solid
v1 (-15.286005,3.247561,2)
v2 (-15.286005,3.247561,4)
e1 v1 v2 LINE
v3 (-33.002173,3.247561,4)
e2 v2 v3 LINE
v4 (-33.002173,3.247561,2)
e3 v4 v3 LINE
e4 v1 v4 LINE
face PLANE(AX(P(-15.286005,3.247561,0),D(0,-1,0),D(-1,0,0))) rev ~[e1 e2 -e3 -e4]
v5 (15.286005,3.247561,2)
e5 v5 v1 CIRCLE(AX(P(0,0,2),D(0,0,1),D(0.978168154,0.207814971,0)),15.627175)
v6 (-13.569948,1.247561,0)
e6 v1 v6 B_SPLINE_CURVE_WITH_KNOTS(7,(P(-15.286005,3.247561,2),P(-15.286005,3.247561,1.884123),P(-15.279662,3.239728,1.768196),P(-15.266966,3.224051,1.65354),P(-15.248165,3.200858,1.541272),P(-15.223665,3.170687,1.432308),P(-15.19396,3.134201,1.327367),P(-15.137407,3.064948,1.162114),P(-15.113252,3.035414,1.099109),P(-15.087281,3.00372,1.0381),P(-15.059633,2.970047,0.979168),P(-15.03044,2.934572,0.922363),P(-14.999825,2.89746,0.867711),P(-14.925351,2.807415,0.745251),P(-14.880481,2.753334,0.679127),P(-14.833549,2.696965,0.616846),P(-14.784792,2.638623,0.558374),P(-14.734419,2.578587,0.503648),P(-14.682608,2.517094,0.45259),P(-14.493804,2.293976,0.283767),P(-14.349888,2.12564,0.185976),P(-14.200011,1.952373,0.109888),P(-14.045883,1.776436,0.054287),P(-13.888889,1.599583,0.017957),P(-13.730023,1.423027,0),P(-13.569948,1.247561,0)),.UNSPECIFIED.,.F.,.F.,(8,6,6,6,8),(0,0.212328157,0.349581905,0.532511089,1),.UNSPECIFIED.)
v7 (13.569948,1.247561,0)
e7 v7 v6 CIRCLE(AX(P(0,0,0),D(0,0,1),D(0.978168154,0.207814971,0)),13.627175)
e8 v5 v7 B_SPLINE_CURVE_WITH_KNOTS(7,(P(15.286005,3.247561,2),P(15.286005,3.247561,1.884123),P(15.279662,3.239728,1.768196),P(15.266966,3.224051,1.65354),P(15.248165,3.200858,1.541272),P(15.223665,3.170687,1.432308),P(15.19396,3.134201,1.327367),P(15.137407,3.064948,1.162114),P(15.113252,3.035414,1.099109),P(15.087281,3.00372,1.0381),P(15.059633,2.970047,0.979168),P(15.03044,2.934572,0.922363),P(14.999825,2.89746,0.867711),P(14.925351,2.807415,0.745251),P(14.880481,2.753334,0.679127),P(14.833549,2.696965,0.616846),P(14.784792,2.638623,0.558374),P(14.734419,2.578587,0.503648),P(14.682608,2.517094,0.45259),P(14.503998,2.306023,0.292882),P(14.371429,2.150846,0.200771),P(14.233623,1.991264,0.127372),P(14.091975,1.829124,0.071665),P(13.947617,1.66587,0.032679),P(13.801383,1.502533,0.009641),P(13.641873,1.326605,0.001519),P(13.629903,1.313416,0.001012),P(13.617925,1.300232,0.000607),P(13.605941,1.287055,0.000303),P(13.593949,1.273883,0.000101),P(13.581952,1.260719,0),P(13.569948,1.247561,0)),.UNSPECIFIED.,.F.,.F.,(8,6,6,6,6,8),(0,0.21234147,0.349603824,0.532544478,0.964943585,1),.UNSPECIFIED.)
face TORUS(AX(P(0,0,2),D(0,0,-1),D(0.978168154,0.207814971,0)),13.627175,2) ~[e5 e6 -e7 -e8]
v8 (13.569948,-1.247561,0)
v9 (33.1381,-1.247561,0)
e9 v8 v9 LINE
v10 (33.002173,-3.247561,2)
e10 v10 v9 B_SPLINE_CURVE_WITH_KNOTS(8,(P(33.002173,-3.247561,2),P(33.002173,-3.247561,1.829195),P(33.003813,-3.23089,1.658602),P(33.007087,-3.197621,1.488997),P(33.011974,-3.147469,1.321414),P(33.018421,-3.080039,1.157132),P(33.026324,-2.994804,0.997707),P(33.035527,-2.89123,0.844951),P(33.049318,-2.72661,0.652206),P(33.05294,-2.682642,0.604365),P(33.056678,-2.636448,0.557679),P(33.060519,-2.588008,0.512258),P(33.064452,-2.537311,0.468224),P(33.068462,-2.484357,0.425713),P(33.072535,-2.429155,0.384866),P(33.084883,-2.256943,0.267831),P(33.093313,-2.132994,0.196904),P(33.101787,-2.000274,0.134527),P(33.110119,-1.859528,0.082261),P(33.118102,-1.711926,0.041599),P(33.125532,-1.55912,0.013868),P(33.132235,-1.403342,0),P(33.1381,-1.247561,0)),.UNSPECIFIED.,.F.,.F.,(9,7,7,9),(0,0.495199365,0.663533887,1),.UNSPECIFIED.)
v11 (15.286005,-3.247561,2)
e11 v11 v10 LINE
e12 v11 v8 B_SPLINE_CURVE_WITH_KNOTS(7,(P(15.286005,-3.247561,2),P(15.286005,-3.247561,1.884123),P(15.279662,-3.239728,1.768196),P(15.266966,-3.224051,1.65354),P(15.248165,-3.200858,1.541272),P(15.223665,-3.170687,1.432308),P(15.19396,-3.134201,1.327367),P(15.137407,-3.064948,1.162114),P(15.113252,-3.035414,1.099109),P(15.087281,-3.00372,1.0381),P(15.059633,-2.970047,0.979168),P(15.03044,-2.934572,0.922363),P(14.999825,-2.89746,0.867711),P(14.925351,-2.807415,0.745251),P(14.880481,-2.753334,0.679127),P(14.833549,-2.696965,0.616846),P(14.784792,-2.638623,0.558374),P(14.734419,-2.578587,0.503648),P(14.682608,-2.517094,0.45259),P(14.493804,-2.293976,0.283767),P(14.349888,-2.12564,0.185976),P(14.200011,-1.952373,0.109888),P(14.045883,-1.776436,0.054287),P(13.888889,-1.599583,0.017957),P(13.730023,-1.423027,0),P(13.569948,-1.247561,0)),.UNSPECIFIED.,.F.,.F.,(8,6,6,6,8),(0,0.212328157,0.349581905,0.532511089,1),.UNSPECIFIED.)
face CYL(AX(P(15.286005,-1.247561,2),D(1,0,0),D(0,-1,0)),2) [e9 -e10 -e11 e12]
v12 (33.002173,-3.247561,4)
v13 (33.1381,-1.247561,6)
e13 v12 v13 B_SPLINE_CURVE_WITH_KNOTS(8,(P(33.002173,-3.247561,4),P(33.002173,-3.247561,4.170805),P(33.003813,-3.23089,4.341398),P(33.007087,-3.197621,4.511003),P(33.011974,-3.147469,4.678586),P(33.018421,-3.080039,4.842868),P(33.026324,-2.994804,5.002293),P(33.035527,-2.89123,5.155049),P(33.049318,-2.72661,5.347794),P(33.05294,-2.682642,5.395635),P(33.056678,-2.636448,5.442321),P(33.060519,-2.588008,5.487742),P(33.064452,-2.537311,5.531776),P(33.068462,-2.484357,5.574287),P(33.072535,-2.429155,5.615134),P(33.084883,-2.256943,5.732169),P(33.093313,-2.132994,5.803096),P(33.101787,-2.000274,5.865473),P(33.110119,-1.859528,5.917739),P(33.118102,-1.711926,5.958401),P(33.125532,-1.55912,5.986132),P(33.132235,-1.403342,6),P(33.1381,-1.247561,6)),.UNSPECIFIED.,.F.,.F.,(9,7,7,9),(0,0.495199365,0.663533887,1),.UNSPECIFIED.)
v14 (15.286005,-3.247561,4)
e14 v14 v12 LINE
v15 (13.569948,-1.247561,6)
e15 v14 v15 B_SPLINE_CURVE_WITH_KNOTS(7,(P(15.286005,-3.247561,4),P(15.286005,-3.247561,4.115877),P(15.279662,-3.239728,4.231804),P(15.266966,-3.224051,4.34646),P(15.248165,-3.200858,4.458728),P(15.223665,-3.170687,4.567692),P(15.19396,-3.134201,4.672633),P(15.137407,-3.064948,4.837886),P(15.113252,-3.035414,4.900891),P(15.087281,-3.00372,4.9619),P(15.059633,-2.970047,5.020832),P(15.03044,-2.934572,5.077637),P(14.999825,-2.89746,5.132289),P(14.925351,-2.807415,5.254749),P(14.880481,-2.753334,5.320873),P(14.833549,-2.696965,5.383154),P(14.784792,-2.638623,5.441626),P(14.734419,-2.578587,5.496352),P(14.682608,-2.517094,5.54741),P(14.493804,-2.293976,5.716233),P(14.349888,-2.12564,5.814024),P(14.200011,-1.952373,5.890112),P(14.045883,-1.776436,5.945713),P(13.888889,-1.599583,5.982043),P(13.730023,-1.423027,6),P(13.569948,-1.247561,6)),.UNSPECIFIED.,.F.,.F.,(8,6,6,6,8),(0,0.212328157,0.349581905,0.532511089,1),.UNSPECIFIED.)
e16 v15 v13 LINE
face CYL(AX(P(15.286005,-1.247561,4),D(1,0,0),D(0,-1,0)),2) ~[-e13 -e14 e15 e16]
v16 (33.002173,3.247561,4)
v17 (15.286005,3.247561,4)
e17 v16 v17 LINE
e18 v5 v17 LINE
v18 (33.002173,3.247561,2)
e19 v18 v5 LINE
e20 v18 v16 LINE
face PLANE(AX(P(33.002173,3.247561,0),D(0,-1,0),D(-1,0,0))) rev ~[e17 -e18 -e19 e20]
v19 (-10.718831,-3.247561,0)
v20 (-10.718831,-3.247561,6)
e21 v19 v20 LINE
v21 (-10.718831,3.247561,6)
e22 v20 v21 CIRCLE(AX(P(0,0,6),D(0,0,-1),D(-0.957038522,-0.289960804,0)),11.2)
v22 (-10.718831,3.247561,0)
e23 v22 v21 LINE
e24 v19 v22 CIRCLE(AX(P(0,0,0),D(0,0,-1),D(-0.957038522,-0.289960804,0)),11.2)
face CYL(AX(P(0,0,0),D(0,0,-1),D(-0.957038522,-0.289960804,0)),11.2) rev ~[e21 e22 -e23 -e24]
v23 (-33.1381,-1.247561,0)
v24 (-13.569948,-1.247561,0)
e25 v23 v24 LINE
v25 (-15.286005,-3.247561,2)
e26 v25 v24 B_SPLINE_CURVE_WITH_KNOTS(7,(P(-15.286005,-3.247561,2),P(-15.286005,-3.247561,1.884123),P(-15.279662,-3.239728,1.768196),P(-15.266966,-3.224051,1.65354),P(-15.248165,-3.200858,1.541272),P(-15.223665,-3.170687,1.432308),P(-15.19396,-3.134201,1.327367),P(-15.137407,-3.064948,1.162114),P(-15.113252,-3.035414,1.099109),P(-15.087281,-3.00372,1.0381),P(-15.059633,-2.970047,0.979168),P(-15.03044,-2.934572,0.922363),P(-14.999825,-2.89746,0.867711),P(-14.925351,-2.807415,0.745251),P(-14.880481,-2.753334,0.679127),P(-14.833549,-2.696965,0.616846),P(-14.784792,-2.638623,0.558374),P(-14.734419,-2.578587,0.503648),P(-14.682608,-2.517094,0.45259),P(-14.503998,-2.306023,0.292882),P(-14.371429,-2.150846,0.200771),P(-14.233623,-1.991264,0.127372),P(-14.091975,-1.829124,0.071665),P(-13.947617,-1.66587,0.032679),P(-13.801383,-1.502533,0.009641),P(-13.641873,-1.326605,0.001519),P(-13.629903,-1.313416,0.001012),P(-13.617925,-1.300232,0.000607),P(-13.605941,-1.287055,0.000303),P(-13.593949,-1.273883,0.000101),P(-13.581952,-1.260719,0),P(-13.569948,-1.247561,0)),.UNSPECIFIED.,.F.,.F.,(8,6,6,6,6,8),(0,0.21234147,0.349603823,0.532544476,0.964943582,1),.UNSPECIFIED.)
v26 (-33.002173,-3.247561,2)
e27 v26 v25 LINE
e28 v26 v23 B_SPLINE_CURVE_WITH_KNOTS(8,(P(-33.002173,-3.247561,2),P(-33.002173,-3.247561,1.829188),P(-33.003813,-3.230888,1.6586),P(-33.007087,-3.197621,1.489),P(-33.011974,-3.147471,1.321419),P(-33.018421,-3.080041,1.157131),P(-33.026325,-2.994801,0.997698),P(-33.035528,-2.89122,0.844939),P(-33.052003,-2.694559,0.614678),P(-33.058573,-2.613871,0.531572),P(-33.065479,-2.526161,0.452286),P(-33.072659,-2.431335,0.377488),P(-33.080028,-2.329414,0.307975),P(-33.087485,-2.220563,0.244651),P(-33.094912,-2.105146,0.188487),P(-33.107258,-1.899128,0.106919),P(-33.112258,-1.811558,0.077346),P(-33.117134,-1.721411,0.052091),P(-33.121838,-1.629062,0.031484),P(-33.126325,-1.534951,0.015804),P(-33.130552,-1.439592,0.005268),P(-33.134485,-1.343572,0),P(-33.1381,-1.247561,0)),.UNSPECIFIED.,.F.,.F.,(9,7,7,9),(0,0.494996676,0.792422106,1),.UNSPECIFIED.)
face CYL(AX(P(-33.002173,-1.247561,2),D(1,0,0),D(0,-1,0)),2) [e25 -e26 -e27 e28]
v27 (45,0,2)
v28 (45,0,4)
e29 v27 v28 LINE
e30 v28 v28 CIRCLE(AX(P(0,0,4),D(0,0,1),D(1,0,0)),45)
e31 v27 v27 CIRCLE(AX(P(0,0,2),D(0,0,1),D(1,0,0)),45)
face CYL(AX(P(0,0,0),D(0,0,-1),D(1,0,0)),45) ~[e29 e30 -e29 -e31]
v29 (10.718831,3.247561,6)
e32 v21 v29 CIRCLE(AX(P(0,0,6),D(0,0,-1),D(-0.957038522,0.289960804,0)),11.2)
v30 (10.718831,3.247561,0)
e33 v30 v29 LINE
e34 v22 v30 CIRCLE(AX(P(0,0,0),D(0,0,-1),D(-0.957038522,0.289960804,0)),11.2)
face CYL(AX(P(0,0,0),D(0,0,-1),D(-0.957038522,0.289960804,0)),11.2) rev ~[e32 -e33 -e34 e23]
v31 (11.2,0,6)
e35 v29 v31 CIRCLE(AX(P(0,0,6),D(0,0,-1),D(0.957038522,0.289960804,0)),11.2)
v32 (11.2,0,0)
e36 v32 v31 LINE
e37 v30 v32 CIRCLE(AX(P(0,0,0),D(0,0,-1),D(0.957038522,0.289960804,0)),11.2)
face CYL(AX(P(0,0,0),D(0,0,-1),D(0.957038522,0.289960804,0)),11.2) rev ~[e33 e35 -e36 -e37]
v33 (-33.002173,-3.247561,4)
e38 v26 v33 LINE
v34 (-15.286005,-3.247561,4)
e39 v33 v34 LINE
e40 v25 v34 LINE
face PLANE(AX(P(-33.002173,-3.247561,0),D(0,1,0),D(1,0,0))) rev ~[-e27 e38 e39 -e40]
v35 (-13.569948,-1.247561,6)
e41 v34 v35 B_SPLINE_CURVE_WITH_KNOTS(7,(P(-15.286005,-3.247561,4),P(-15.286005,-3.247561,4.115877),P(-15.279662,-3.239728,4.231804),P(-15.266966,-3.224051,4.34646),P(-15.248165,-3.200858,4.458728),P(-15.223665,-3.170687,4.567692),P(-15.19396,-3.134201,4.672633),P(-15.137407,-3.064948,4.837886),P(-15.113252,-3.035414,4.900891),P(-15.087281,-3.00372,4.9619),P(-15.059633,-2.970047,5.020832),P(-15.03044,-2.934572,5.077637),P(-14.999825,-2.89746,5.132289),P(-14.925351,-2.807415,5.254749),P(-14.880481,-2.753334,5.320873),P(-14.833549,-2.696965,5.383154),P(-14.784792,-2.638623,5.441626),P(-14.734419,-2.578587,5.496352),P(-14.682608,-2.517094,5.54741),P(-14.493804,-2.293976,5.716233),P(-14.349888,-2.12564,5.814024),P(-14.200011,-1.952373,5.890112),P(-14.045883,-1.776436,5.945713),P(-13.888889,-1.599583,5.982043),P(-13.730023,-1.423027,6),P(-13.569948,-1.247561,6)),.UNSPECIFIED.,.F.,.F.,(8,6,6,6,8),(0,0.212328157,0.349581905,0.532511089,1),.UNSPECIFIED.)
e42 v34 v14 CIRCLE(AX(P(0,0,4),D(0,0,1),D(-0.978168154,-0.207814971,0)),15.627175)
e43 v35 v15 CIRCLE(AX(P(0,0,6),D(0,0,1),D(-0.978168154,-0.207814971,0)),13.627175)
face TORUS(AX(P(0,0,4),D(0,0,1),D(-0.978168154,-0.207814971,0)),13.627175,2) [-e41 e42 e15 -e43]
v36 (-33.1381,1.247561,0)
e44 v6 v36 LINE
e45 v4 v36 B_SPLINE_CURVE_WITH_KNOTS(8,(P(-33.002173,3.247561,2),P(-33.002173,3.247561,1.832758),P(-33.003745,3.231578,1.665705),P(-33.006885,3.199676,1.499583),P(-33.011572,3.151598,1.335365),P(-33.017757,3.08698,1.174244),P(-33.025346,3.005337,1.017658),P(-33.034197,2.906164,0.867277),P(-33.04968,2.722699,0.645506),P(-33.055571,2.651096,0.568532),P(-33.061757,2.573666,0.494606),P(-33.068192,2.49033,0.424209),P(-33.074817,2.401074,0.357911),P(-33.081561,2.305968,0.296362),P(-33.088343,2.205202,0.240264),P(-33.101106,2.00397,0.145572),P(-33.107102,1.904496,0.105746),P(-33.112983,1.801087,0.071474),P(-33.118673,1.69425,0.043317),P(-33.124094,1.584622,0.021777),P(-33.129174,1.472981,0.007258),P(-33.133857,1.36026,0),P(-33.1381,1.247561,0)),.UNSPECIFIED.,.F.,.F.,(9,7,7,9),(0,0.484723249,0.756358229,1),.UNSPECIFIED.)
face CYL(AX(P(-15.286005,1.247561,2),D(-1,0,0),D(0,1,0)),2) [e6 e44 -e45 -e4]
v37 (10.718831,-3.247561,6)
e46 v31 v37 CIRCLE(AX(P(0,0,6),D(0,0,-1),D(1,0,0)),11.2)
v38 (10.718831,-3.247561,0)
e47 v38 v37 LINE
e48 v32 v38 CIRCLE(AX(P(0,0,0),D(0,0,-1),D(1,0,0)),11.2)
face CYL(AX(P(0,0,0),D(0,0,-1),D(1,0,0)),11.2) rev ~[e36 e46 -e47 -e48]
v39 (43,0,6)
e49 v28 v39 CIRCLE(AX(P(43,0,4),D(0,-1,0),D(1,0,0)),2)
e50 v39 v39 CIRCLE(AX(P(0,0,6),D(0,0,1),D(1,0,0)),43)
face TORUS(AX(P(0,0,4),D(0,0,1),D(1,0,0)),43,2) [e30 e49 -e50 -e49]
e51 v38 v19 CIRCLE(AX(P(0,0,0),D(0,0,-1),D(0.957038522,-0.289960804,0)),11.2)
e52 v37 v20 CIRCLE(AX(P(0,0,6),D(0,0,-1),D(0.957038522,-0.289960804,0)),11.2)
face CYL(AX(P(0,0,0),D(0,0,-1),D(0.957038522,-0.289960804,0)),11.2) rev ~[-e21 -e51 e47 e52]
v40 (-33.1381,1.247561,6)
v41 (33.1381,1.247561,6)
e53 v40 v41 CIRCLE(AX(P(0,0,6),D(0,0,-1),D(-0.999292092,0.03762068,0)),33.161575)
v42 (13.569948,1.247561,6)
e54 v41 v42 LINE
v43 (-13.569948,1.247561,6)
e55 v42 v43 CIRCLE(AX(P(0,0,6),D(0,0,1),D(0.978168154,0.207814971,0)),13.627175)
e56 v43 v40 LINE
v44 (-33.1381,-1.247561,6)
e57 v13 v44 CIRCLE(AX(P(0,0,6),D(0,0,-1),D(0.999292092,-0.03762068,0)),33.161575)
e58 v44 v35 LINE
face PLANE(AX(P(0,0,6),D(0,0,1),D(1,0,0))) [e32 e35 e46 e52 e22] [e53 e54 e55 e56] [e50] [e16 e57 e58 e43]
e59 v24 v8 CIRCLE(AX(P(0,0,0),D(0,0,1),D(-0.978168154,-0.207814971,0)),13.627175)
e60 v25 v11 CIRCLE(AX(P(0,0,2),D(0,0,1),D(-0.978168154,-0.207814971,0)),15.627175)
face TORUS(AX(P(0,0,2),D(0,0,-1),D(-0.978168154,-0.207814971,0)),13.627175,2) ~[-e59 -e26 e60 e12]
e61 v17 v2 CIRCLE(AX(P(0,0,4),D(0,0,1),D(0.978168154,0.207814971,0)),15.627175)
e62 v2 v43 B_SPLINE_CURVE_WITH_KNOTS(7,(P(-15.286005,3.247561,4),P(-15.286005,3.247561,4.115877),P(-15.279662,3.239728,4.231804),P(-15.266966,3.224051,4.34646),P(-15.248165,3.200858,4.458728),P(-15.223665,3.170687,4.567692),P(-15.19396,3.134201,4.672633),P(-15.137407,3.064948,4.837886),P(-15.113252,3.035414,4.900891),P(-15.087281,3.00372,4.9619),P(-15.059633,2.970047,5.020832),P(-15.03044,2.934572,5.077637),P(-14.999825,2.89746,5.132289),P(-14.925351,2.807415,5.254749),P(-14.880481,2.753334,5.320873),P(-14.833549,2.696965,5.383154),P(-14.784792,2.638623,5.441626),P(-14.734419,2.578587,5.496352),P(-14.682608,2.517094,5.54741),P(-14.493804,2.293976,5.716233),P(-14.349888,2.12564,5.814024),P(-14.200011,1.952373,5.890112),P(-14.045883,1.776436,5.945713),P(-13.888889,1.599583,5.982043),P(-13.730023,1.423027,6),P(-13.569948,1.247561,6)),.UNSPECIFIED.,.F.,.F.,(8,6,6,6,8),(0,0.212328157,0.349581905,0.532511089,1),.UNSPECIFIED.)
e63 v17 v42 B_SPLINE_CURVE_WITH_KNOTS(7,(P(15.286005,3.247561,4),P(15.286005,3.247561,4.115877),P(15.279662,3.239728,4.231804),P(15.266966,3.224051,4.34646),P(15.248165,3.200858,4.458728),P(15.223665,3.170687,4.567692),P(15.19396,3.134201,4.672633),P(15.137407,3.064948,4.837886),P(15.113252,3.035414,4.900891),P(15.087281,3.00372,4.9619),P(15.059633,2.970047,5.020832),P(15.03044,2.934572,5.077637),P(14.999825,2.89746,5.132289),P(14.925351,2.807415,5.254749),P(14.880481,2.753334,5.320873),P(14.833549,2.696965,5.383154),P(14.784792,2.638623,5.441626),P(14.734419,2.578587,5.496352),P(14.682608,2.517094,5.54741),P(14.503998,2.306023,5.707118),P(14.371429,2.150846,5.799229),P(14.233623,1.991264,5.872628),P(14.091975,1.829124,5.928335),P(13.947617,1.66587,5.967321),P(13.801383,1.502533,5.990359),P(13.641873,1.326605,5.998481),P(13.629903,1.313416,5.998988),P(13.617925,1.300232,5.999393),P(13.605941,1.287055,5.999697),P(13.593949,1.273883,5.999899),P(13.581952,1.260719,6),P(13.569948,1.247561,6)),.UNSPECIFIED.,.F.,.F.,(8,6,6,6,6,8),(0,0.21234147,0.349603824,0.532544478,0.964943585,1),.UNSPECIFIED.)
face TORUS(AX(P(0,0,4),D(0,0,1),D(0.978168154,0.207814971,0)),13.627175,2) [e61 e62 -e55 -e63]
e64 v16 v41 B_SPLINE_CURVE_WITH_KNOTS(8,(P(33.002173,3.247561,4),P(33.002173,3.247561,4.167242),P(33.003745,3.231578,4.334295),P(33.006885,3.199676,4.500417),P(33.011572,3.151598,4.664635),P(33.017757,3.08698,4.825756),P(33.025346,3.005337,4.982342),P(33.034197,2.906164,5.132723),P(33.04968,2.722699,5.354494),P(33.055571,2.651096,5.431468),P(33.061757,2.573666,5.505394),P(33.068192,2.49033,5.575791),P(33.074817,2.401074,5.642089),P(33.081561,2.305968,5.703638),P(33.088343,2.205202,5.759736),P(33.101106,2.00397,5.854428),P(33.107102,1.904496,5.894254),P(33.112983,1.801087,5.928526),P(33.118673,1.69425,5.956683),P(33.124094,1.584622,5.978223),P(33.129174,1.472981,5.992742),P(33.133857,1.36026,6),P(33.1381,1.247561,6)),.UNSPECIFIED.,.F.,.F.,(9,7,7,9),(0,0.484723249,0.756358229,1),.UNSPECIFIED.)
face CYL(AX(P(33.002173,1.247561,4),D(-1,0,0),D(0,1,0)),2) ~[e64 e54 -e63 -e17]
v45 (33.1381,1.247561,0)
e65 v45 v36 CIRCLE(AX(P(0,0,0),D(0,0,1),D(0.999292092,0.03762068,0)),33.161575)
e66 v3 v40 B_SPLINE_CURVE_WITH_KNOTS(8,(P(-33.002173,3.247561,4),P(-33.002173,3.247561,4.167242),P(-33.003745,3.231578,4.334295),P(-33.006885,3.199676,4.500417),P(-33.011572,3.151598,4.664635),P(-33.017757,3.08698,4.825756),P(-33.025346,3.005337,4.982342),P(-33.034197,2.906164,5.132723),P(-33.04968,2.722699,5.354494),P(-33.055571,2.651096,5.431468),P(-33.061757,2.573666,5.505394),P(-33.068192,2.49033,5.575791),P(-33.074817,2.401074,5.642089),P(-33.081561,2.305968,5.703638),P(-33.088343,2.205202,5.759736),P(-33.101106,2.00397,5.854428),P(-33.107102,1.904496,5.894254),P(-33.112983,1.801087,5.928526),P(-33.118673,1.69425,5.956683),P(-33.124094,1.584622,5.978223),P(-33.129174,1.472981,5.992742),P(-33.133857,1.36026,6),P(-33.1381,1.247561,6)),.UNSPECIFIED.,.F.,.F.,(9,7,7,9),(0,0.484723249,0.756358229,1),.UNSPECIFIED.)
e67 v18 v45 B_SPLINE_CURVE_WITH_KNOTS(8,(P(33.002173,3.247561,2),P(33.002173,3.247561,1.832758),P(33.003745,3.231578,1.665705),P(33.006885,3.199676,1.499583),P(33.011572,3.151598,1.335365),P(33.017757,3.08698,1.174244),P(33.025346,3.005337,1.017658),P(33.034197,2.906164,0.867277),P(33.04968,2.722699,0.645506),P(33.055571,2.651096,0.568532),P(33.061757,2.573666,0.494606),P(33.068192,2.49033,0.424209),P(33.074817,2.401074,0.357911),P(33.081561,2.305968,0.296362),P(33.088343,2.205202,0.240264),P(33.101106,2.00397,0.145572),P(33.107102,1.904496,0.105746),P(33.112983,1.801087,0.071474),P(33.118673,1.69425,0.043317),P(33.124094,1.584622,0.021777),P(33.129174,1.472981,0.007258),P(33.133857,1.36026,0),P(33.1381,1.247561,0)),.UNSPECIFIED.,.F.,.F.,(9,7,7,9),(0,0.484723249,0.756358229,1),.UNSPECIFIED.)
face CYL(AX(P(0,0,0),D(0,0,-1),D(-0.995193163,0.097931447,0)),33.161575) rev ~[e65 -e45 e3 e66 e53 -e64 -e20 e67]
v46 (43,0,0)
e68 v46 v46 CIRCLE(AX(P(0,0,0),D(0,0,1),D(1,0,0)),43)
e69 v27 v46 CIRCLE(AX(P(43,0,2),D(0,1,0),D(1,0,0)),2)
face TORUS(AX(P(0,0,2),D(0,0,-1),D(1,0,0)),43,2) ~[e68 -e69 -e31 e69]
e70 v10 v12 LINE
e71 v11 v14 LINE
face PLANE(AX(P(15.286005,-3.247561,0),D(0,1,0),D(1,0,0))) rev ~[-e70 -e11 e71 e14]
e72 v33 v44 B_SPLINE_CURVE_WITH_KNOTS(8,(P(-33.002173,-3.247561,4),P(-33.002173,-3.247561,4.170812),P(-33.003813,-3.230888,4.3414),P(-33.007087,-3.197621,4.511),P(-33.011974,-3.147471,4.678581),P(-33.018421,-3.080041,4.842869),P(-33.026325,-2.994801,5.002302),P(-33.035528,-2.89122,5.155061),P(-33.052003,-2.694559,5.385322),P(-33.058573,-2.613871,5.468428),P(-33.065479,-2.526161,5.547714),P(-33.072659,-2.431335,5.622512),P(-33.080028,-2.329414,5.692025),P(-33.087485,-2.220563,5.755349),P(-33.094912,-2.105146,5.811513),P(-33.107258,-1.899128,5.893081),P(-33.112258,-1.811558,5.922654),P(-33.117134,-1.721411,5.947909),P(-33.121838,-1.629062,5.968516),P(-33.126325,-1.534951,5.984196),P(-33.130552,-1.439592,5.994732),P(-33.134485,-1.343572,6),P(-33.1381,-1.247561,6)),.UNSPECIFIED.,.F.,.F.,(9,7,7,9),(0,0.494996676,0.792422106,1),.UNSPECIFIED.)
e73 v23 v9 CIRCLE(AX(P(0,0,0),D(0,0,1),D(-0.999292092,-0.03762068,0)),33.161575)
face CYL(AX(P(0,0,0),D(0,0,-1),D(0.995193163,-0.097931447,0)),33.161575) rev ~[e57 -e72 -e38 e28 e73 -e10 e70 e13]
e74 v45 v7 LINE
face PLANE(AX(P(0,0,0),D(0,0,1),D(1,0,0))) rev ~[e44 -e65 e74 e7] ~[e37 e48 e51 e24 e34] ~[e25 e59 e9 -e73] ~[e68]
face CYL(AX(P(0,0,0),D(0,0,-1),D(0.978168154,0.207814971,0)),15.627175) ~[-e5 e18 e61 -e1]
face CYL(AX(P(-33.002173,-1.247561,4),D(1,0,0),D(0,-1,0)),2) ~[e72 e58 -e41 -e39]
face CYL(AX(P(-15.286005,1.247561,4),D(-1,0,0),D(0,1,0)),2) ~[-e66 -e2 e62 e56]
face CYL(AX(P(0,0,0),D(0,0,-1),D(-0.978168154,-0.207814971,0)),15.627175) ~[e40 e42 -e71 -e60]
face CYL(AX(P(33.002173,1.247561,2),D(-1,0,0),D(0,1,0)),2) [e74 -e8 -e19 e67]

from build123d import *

# Parameters (mm, degrees)
F0_R     = 45
F1_DEPTH = 6
F2_R     = 2


with BuildPart() as f1:
    # F0 (on Top) → F1 (new body)
    with BuildSketch(Plane.XY):
        Circle(F0_R)
        with BuildLine():
            ThreePointArc((33.0021725985, 3.2475610053), (33.1217003385, 1.6257353391), (33.1615748828, 0))
            ThreePointArc((33.1615748828, 0), (33.1217003385, -1.6257353391), (33.0021725985, -3.2475610053))
            ThreePointArc((33.0021725985, -3.2475610053), (0, -33.1615748828), (-33.0021725985, -3.2475610053))
            ThreePointArc((-33.0021725985, -3.2475610053), (-33.1615748828, 0), (-33.0021725985, 3.2475610053))
            ThreePointArc((-33.0021725985, 3.2475610053), (0, 33.1615748828), (33.0021725985, 3.2475610053))
        make_face(mode=Mode.SUBTRACT)
        with BuildLine():
            Line((-15.2860053166, 3.2475610053), (-33.0021725985, 3.2475610053))
            ThreePointArc((-33.0021725985, 3.2475610053), (-33.1615748828, 0), (-33.0021725985, -3.2475610053))
            Line((-33.0021725985, -3.2475610053), (-15.2860053166, -3.2475610053))
            ThreePointArc((-15.2860053166, -3.2475610053), (-15.6271754013, 0), (-15.2860053166, 3.2475610053))
        make_face()
        with BuildLine():
            Line((-10.7188314436, 3.2475610053), (-15.2860053166, 3.2475610053))
            ThreePointArc((-15.2860053166, 3.2475610053), (-15.6271754013, 0), (-15.2860053166, -3.2475610053))
            Line((-15.2860053166, -3.2475610053), (-10.7188314436, -3.2475610053))
            ThreePointArc((-10.7188314436, -3.2475610053), (-11.2, 0), (-10.7188314436, 3.2475610053))
        make_face()
        with BuildLine():
            Line((10.7188314436, 3.2475610053), (15.2860053166, 3.2475610053))
            ThreePointArc((15.2860053166, 3.2475610053), (0, 15.6271754013), (-15.2860053166, 3.2475610053))
            Line((-15.2860053166, 3.2475610053), (-10.7188314436, 3.2475610053))
            ThreePointArc((-10.7188314436, 3.2475610053), (0, 11.2), (10.7188314436, 3.2475610053))
        make_face()
        with BuildLine():
            ThreePointArc((-15.2860053166, -3.2475610053), (0, -15.6271754013), (15.2860053166, -3.2475610053))
            Line((15.2860053166, -3.2475610053), (10.7188314436, -3.2475610053))
            ThreePointArc((10.7188314436, -3.2475610053), (0, -11.2), (-10.7188314436, -3.2475610053))
            Line((-10.7188314436, -3.2475610053), (-15.2860053166, -3.2475610053))
        make_face()
        with BuildLine():
            ThreePointArc((15.6271754013, 0), (15.5416488393, 1.6327162575), (15.2860053166, 3.2475610053))
            Line((15.2860053166, 3.2475610053), (10.7188314436, 3.2475610053))
            ThreePointArc((10.7188314436, 3.2475610053), (11.0790548371, 1.6415065993), (11.2, 0))
            ThreePointArc((11.2, 0), (11.0790548371, -1.6415065993), (10.7188314436, -3.2475610053))
            Line((10.7188314436, -3.2475610053), (15.2860053166, -3.2475610053))
            ThreePointArc((15.2860053166, -3.2475610053), (15.5416488393, -1.6327162575), (15.6271754013, 0))
        make_face()
        with BuildLine():
            ThreePointArc((33.0021725985, -3.2475610053), (33.1217003385, -1.6257353391), (33.1615748828, 0))
            ThreePointArc((33.1615748828, 0), (33.1217003385, 1.6257353391), (33.0021725985, 3.2475610053))
            Line((33.0021725985, 3.2475610053), (15.2860053166, 3.2475610053))
            ThreePointArc((15.2860053166, 3.2475610053), (15.5416488393, 1.6327162575), (15.6271754013, 0))
            ThreePointArc((15.6271754013, 0), (15.5416488393, -1.6327162575), (15.2860053166, -3.2475610053))
            Line((15.2860053166, -3.2475610053), (33.0021725985, -3.2475610053))
        make_face()
    extrude(amount=F1_DEPTH)

    # F2
    f2_edges = [f1.edges().sort_by_distance(p)[0] for p in [
        (-45, 0, 6),
        (-24.144089, -3.247561, 6),
        (0, -15.627175, 0),
        (24.144089, -3.247561, 6),
        (0, 15.627175, 6),
        (-24.144089, 3.247561, 6),
        (24.144089, 3.247561, 6),
        (-45, 0, 0),
        (0, 15.627175, 0),
        (24.144089, 3.247561, 0),
        (0, -15.627175, 6),
        (-24.144089, 3.247561, 0),
        (-24.144089, -3.247561, 0),
        (24.144089, -3.247561, 0),
    ]]
    fillet(f2_edges, radius=F2_R)


solid = f1.part
